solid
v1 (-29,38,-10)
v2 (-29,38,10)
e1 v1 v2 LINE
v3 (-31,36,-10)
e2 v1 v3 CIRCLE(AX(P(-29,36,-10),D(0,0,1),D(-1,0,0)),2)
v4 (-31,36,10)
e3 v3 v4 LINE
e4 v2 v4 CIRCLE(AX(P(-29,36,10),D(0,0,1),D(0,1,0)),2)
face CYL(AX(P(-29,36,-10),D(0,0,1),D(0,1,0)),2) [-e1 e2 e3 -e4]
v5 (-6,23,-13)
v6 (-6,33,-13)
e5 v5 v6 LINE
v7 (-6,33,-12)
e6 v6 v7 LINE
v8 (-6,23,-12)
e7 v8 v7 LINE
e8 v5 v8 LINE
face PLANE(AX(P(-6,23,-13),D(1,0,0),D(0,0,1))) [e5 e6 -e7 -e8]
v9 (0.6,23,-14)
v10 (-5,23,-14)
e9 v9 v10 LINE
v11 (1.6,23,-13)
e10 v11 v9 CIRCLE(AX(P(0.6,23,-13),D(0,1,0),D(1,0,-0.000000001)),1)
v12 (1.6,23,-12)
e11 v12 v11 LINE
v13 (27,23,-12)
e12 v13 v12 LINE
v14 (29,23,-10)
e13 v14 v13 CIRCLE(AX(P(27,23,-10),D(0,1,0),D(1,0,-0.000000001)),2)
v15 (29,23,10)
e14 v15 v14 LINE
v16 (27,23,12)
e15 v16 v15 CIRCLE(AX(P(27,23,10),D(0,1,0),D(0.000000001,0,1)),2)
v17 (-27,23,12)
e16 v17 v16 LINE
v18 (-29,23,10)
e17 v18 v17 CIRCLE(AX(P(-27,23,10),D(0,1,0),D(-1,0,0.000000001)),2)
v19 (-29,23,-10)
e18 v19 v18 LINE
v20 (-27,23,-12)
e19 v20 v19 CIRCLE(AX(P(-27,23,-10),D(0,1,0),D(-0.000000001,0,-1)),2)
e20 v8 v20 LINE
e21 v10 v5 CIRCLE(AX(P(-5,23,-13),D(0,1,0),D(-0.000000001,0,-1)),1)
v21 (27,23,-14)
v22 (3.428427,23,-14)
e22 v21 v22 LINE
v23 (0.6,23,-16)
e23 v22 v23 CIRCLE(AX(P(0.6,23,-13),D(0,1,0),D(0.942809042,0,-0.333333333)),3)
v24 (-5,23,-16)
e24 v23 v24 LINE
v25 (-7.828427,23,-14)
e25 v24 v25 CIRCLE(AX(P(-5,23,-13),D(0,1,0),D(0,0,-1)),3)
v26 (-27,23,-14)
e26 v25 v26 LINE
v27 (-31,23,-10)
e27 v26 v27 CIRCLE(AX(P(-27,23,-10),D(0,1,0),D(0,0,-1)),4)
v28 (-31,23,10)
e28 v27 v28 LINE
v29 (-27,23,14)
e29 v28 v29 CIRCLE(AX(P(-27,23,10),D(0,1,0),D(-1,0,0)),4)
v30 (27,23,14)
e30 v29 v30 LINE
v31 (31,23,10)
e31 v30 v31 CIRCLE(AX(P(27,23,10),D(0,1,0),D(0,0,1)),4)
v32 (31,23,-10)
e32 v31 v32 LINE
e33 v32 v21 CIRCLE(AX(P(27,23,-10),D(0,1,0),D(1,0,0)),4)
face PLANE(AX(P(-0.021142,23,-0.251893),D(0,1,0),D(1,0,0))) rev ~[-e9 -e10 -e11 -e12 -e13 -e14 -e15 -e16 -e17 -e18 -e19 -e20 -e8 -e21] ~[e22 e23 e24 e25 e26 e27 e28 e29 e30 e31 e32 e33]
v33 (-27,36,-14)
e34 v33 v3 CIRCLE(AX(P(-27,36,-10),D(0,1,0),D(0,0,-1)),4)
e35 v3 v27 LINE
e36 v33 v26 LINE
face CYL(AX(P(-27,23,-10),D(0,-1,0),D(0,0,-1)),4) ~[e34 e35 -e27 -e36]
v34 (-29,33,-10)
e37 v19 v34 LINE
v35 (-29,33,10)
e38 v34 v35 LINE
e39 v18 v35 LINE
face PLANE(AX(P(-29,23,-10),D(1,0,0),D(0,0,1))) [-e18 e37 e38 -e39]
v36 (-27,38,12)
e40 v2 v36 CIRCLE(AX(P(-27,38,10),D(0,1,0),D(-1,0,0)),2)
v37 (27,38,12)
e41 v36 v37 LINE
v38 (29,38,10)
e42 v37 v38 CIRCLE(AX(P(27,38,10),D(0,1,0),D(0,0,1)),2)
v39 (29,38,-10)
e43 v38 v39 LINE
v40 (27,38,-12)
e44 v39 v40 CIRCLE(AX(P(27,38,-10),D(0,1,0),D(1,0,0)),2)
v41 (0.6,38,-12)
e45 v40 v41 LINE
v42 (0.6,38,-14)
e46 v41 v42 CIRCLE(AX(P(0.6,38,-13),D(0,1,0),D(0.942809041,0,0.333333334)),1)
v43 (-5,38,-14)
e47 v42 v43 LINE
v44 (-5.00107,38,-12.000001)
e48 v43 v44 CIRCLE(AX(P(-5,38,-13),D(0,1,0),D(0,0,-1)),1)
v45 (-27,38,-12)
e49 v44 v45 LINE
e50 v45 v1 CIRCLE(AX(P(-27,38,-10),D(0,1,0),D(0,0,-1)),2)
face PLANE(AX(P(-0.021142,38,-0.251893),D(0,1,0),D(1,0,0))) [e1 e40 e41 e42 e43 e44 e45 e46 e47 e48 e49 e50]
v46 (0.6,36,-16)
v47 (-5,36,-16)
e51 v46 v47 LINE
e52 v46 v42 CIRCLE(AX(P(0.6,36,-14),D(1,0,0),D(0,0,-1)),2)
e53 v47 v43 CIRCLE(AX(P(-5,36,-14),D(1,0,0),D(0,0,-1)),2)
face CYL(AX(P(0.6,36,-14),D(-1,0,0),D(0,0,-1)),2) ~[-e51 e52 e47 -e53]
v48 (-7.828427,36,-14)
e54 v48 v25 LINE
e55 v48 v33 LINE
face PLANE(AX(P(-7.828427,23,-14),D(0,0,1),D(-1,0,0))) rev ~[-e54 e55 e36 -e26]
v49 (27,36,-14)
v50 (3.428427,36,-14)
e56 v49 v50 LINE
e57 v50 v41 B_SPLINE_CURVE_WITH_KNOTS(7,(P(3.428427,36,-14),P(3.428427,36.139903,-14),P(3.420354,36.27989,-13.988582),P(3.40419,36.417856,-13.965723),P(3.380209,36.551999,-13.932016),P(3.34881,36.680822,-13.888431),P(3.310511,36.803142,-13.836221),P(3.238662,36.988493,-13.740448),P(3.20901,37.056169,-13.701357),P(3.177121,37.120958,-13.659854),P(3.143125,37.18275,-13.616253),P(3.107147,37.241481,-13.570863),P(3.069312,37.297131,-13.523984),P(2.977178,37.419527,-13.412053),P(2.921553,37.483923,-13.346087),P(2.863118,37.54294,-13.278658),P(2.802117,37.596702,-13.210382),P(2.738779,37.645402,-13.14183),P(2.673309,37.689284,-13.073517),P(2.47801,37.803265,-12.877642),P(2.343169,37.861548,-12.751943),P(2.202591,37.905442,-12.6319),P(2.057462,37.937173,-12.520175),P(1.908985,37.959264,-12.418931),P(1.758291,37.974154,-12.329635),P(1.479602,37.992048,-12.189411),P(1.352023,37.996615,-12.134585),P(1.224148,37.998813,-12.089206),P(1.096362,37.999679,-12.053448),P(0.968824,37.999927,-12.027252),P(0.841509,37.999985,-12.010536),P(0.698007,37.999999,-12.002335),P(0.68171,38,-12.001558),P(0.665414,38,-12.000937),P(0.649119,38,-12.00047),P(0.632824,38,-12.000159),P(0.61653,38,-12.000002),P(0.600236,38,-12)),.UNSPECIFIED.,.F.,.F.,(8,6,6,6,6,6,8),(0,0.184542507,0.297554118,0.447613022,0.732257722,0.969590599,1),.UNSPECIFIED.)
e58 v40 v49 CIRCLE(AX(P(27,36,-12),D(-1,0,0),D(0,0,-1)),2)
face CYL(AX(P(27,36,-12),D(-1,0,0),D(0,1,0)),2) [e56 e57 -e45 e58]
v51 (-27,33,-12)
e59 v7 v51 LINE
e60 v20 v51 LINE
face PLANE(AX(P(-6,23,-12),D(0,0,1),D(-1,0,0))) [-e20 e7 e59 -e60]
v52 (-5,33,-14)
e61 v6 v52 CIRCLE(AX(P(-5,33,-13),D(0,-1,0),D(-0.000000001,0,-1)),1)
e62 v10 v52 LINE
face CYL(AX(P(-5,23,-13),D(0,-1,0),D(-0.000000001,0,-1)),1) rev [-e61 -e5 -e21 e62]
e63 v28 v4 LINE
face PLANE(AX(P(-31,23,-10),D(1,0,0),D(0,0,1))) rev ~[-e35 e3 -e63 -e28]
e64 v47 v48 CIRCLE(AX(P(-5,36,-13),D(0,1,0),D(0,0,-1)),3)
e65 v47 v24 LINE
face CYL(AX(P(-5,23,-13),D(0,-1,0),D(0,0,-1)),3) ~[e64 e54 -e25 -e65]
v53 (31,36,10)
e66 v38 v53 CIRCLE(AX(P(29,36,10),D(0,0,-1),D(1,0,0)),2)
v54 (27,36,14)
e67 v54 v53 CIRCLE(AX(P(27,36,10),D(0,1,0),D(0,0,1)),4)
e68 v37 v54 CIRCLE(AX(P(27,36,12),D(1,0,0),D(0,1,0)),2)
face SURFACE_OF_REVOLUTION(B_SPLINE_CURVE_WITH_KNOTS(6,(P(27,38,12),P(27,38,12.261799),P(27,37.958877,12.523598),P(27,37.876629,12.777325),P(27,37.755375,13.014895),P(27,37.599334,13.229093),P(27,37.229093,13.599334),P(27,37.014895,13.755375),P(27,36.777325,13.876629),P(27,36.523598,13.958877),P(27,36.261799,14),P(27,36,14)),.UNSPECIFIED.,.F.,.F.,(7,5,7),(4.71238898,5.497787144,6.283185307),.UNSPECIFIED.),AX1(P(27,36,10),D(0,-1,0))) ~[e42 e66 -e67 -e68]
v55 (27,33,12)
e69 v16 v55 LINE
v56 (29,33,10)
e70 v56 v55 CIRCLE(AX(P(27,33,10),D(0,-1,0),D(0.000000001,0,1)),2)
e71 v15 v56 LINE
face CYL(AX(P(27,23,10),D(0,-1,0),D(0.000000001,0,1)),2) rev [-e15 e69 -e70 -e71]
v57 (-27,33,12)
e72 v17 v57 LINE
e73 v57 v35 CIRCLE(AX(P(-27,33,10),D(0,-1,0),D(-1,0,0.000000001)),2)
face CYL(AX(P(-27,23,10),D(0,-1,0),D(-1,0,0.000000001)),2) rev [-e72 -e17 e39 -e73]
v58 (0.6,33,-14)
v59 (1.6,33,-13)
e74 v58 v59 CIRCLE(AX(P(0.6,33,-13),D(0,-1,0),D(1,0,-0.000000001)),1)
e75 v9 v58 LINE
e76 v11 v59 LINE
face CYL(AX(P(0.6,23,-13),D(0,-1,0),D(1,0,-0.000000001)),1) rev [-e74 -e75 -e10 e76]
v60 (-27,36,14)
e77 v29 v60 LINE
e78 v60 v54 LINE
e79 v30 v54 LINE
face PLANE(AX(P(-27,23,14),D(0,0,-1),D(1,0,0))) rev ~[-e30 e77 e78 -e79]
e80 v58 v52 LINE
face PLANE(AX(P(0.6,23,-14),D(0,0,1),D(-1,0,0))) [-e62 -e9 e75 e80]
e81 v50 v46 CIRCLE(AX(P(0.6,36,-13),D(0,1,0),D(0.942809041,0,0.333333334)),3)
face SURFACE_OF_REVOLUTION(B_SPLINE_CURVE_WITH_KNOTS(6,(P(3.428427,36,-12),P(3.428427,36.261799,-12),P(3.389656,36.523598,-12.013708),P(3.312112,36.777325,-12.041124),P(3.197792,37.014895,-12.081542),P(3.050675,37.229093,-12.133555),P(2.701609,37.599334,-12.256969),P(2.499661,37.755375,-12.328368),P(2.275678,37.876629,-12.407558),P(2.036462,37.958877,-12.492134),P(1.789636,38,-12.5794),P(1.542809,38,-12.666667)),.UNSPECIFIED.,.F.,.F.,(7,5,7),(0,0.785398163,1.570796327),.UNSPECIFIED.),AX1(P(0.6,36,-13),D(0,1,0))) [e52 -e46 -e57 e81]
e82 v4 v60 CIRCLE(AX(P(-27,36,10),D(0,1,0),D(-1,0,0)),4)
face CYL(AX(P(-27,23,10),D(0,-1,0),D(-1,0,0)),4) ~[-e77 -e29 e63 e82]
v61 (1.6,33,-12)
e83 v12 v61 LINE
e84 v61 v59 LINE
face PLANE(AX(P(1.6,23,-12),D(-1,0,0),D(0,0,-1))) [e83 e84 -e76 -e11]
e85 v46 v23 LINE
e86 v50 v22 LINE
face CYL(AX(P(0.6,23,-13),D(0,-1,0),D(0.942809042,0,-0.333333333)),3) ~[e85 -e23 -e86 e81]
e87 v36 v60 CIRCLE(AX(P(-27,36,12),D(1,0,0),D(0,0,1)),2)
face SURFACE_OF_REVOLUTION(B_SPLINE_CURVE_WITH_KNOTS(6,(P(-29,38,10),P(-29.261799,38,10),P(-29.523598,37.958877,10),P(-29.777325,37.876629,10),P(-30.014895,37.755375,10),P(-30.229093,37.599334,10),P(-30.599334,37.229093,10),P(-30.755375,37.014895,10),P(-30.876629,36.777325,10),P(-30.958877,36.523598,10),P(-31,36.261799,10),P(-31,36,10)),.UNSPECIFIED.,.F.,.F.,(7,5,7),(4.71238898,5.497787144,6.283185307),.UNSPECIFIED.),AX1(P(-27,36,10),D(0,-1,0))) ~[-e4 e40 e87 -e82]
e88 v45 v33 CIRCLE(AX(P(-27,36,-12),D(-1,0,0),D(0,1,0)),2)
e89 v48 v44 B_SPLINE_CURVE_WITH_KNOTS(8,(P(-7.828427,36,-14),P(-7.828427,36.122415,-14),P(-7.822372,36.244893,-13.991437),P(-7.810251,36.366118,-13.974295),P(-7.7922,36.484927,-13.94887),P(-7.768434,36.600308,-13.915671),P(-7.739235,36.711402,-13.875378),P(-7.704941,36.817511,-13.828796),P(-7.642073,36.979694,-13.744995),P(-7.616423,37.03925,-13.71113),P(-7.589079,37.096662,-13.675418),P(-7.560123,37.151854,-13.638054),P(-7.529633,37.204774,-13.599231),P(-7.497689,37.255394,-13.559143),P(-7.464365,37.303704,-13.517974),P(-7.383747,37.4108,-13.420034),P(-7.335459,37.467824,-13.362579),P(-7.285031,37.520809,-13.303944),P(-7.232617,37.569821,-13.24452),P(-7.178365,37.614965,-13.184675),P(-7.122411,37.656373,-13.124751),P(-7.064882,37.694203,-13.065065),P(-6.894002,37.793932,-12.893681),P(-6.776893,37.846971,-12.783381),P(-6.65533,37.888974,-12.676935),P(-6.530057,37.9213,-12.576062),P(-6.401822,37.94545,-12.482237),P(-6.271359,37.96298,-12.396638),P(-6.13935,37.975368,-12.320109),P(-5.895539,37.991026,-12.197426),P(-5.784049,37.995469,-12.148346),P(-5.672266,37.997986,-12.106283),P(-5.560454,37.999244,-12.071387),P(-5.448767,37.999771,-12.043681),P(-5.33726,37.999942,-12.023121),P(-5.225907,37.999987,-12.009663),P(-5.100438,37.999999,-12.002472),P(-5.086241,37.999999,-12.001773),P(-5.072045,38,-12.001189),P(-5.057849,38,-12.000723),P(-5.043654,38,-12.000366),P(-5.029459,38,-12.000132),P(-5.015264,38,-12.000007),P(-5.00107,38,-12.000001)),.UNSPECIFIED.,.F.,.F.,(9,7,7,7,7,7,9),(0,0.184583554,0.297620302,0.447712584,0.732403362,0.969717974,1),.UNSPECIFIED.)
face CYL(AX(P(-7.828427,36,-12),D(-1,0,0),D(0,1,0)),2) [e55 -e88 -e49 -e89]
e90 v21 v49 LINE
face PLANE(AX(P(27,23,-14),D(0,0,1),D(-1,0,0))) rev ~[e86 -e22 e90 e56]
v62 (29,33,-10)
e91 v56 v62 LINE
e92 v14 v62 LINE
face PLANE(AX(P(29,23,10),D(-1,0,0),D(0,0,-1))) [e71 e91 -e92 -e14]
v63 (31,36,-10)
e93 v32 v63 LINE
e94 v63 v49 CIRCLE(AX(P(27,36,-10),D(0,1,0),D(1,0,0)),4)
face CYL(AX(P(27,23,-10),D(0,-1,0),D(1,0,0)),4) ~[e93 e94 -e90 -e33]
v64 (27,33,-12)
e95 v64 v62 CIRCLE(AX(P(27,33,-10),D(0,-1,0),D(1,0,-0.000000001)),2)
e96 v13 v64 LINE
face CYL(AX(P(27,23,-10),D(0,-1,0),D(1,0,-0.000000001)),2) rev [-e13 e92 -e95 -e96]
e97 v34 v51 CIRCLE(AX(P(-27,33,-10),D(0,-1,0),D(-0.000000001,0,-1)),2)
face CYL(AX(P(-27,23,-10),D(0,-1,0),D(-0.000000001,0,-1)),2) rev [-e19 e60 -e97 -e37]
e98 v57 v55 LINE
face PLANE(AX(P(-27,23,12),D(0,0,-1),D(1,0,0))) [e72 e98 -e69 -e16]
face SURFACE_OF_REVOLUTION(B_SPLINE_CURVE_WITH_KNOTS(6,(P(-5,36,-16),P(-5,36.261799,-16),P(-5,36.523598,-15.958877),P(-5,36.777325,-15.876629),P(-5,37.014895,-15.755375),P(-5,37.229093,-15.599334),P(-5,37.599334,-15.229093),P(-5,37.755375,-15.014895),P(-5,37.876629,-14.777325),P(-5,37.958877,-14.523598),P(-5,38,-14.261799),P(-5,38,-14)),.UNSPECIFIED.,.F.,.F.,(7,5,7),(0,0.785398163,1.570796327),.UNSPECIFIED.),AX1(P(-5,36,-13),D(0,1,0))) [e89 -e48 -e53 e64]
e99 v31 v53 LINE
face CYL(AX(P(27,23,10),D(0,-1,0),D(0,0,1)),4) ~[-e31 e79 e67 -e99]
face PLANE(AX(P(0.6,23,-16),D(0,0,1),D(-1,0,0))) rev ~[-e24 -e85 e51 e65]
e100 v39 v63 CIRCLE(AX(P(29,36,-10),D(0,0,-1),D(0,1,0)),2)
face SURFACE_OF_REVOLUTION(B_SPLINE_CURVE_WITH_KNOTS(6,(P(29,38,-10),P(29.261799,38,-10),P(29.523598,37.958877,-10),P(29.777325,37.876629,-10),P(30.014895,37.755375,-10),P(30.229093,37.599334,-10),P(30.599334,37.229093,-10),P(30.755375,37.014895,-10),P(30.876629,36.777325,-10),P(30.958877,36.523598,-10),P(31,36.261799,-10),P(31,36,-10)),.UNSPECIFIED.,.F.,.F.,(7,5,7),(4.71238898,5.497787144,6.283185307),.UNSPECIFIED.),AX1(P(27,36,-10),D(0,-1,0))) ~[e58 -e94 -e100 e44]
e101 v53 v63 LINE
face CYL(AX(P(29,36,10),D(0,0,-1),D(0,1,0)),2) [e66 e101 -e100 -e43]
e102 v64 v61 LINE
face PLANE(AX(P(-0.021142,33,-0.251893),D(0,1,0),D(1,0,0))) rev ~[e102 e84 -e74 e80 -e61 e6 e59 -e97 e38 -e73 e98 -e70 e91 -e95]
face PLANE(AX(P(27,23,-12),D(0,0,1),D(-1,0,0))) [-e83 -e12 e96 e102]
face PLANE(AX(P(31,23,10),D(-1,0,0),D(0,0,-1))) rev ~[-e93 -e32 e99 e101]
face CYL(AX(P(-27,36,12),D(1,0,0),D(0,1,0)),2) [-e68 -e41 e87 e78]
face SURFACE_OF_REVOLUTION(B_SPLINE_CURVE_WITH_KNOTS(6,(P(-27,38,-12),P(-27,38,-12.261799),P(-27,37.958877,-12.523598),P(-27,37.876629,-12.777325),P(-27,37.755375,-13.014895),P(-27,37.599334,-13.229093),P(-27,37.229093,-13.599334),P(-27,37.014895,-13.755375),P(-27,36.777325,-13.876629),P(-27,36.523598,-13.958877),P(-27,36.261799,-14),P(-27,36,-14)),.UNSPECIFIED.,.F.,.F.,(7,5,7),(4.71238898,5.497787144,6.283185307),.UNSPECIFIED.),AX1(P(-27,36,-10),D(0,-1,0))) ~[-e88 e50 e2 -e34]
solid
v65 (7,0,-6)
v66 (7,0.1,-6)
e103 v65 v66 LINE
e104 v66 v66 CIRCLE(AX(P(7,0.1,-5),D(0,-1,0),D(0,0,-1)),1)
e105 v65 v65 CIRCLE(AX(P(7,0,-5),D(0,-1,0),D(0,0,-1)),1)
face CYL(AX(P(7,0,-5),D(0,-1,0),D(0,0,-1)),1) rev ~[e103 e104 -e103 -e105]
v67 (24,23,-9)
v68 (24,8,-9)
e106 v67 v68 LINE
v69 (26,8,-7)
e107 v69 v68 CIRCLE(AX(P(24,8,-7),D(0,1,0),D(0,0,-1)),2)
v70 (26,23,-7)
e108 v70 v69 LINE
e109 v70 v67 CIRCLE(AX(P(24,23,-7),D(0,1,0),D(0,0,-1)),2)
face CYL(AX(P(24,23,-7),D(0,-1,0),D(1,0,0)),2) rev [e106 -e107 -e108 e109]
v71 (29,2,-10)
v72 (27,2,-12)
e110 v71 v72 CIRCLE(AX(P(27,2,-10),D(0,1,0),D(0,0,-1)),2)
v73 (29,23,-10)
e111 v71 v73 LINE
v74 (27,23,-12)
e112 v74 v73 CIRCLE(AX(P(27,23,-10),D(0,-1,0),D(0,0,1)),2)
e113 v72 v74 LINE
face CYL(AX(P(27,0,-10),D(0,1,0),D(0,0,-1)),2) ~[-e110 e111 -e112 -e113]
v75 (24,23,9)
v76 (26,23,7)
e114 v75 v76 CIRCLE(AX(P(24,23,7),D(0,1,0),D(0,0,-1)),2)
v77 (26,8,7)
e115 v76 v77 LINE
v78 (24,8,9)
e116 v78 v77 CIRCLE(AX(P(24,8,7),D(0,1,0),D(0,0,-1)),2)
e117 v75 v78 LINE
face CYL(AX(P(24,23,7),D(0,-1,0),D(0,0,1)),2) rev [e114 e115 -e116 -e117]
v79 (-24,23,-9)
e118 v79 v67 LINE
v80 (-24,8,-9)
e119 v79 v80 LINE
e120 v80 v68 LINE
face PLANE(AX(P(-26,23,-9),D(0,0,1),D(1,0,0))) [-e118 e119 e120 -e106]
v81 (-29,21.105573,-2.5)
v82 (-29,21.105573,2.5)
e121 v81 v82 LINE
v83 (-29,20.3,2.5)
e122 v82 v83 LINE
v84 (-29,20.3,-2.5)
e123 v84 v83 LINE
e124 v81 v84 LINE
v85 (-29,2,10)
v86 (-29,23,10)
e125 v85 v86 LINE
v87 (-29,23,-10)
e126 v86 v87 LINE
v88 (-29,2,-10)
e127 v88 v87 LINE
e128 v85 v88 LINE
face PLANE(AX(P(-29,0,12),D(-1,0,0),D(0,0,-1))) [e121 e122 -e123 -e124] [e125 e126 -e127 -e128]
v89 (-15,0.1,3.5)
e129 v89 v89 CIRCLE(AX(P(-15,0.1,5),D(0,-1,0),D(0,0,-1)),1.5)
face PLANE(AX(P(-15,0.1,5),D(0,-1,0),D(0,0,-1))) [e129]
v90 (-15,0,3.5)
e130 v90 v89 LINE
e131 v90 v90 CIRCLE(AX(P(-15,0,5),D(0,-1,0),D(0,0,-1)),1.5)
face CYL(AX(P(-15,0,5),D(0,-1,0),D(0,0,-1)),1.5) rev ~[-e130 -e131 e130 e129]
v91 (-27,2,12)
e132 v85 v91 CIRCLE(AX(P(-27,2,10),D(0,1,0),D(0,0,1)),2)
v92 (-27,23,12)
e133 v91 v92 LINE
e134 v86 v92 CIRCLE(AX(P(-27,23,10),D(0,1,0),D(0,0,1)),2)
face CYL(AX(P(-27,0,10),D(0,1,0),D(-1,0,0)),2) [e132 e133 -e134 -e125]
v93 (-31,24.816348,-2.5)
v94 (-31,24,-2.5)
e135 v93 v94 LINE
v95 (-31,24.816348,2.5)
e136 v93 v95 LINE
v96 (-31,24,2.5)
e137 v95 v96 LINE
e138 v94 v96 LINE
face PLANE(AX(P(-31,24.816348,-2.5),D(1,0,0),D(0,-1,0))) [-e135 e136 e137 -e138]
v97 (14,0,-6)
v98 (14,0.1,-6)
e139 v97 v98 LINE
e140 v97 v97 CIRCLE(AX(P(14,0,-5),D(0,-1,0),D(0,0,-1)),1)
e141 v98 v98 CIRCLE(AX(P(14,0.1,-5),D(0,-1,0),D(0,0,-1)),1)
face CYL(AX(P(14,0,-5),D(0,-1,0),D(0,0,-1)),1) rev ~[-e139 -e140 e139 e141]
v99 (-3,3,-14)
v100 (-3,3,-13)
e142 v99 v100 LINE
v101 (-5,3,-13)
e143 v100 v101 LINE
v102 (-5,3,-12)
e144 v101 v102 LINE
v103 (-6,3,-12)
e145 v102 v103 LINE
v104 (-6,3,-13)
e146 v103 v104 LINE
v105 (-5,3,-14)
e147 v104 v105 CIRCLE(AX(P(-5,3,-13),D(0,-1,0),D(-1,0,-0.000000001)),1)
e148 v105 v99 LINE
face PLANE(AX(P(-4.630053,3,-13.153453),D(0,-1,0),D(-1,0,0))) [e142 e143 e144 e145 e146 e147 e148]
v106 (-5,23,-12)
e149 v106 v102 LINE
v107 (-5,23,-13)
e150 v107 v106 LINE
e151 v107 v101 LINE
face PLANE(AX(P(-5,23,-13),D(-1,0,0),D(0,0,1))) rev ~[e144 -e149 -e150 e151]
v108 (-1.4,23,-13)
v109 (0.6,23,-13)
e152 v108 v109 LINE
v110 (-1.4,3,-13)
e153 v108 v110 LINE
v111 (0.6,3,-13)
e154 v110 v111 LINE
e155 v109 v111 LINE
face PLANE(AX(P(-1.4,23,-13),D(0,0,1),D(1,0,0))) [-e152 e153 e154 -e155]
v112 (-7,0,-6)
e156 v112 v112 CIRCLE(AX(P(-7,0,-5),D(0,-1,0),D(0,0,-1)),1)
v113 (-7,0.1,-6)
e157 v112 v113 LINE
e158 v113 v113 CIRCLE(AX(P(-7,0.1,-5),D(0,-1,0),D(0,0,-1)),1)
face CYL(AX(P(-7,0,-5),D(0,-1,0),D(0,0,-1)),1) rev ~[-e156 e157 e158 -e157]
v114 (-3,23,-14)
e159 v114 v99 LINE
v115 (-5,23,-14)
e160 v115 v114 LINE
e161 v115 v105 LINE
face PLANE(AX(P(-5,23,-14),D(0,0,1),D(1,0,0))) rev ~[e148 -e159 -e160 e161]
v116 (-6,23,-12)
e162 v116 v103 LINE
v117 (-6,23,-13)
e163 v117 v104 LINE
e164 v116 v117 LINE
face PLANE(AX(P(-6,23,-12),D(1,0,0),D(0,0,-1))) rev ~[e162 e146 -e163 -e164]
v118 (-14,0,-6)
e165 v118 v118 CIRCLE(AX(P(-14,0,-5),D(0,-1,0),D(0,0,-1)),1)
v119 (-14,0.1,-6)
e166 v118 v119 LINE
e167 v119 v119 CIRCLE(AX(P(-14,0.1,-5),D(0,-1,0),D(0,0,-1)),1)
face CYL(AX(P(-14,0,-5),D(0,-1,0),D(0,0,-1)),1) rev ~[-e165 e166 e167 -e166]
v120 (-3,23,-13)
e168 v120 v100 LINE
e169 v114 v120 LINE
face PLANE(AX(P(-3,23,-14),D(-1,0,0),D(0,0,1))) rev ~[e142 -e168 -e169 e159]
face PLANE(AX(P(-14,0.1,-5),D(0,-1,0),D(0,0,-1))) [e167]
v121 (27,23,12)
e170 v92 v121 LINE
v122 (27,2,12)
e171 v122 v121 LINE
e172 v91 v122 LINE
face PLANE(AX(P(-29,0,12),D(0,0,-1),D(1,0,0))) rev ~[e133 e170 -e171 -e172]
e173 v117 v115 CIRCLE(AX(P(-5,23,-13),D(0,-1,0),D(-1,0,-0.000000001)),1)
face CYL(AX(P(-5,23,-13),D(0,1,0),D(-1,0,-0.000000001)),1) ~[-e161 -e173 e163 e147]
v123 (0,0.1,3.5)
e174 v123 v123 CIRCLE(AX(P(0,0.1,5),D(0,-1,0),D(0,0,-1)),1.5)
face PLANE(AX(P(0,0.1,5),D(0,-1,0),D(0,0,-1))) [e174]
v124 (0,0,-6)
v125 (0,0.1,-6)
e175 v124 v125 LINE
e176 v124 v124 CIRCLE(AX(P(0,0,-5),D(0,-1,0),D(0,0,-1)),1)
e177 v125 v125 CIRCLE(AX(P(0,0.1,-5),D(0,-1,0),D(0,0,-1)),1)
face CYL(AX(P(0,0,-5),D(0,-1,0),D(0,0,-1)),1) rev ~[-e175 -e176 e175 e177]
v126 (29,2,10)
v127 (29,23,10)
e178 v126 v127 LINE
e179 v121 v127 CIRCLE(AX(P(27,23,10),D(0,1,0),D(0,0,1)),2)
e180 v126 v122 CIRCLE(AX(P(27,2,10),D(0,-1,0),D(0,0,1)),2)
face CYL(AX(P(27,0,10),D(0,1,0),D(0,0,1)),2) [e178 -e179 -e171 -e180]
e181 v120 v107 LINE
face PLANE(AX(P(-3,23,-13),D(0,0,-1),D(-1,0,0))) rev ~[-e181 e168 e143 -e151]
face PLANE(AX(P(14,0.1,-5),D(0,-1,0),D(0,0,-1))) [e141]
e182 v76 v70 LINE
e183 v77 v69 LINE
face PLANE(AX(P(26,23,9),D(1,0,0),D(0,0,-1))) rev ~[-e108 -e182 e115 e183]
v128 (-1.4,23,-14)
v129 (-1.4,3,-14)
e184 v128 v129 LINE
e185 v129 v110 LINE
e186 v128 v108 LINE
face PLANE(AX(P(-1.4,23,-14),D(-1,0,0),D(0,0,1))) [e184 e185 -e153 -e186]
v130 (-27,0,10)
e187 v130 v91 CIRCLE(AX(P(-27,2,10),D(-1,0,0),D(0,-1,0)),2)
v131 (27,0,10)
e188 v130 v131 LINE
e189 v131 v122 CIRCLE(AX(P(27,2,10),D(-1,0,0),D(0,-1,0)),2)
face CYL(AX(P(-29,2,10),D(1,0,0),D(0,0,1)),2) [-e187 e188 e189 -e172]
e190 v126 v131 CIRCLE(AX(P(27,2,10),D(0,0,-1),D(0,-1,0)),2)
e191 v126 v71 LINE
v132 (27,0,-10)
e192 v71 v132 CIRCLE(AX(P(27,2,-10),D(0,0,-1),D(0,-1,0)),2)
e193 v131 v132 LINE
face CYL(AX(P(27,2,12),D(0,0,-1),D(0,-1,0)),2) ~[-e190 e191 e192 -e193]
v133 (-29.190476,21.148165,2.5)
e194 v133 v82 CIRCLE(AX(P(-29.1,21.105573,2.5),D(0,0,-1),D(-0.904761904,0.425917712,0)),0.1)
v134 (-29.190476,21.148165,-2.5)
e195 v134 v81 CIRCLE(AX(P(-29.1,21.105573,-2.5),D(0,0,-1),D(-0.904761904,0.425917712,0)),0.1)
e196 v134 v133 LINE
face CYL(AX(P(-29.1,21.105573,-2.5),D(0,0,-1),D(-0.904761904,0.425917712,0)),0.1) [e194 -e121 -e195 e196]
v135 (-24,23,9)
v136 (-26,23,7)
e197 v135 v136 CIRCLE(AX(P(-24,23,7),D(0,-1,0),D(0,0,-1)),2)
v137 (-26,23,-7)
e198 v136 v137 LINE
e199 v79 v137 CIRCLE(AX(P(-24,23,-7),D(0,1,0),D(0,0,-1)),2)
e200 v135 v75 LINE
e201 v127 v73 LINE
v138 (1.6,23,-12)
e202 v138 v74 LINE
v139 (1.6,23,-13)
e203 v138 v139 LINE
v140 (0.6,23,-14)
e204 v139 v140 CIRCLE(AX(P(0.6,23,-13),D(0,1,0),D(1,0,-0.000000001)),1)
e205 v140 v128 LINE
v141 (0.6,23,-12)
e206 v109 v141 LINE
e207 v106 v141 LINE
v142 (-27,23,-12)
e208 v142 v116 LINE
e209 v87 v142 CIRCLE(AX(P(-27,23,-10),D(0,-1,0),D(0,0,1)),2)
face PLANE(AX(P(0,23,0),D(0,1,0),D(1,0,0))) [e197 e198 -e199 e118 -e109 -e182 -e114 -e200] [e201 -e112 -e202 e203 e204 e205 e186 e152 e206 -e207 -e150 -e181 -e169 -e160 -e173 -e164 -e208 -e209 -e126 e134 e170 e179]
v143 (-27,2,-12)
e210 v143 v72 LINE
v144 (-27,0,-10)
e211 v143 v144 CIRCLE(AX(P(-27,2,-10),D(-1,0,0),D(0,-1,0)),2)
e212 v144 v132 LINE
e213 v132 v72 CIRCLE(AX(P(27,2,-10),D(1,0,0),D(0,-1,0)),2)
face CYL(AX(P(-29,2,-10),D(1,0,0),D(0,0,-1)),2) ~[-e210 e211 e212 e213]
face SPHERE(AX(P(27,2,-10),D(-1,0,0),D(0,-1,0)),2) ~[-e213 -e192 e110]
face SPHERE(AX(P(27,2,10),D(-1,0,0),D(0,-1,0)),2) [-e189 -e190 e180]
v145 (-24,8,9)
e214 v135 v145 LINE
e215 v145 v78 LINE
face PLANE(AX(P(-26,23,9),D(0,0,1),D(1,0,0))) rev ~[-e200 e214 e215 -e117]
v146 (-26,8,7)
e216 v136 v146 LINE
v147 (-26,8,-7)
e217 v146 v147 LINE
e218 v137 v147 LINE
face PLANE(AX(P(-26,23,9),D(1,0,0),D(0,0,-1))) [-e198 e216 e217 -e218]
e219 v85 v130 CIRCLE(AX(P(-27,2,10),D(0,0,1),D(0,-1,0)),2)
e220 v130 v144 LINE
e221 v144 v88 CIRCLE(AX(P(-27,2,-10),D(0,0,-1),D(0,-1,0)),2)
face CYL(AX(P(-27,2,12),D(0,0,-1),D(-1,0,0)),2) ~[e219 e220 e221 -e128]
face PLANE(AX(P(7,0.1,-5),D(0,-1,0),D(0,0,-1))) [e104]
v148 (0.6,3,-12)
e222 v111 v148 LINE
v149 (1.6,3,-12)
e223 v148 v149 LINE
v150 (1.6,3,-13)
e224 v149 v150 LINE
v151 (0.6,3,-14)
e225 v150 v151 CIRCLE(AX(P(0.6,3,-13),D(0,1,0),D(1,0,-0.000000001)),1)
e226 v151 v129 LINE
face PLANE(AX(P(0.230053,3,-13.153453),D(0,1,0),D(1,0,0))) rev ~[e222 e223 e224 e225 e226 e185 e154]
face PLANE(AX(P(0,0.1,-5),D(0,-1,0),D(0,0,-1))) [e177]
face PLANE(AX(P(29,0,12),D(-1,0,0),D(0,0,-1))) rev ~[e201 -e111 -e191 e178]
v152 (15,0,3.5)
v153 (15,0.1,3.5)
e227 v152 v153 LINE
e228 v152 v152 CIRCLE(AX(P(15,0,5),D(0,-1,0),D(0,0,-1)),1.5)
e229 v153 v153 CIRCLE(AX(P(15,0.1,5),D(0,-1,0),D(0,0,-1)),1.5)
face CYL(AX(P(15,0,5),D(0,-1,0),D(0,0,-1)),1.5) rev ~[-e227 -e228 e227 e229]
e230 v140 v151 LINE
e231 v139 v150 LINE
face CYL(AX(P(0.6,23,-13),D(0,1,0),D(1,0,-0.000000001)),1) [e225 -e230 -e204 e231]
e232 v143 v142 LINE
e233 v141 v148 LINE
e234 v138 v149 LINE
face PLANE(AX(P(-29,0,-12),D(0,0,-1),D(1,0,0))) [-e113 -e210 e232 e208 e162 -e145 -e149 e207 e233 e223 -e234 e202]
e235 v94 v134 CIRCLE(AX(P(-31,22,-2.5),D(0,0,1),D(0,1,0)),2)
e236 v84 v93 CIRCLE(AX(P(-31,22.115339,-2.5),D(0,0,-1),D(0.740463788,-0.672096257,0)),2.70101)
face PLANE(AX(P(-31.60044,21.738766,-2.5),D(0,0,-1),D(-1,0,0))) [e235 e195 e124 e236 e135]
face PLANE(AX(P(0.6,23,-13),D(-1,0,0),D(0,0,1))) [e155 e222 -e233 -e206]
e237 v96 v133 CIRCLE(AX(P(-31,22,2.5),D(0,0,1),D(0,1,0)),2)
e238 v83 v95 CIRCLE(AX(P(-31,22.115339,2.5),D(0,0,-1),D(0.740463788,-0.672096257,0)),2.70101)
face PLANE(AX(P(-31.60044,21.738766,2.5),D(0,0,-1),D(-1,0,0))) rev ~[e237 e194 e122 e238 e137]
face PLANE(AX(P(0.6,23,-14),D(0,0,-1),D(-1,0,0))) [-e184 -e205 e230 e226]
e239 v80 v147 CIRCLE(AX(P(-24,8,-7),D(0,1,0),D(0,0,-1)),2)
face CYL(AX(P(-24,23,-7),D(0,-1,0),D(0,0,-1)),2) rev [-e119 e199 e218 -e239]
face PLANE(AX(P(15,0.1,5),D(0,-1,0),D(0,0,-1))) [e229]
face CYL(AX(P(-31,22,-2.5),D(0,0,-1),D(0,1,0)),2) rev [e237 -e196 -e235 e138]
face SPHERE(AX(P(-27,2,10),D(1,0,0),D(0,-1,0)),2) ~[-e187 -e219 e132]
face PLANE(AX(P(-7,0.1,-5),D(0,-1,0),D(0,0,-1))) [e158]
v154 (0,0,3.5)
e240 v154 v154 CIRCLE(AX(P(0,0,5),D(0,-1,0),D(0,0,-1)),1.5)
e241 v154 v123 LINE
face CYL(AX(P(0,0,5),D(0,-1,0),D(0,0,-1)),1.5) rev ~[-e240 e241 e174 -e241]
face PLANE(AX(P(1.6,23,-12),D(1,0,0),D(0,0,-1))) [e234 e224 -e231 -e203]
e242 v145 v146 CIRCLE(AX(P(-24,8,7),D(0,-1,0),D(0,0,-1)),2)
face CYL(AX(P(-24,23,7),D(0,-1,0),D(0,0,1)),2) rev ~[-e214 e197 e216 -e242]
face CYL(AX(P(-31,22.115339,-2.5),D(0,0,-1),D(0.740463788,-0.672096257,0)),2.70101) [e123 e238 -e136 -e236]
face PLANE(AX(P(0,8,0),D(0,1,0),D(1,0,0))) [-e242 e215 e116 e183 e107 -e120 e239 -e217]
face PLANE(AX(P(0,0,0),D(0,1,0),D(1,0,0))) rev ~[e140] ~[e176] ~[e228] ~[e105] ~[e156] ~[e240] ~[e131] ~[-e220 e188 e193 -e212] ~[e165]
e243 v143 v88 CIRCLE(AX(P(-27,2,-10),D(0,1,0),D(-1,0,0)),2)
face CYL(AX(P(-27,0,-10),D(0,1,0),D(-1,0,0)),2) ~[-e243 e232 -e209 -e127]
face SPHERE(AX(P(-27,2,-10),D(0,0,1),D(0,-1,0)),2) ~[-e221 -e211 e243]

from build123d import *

# Parameters (mm, degrees)
SKETCH_1_W           = 58
SKETCH_1_H           = 24
EXTRUDE_1_DEPTH      = 23
EXTRUDE_2_DEPTH      = 20
SKETCH_3_W           = 52
SKETCH_3_H           = 18
CUT_EXTRUDE_1_DEPTH  = 15
FILLET_1_R           = 2
EXTRUDE_3_DEPTH      = 15
EXTRUDE_9_DEPTH      = 2.5
EXTRUDE_9_DEPTH_BACK = 2.5
EXTRUDE_10_DEPTH     = 5
FILLET_3_R           = 2
FILLET_4_R           = 2
SKETCH_7_R           = 1.5
SKETCH_7_R_2         = 1
CUT_EXTRUDE_2_DEPTH  = 0.1


with BuildPart() as part:
    # ｽｹｯﾁ1 → ﾎﾞｽ - 押し出し1 (new body)
    with BuildSketch(Plane(origin=(0, 0, 0), x_dir=(1, 0, 0), z_dir=(0, 1, 0))):
        Rectangle(SKETCH_1_W, SKETCH_1_H)
    extrude(amount=EXTRUDE_1_DEPTH)

    # ｽｹｯﾁ2 → ﾎﾞｽ - 押し出し2 (add)
    with BuildSketch(Plane(origin=(0, 23, 0), x_dir=(1, 0, 0), z_dir=(0, 1, 0))):
        with BuildLine():
            Line((0.6, 13), (0.6, 12))
            Line((0.6, 12), (1.6, 12))
            Line((1.6, 12), (1.6, 13))
            ThreePointArc((1.6, 13), (1.307106781, 13.707106781), (0.6, 14))
            Line((0.6, 14), (-1.4, 14))
            Line((-1.4, 14), (-1.4, 13))
            Line((-1.4, 13), (0.6, 13))
        make_face()
        with BuildLine():
            Line((-5, 14), (-3, 14))
            Line((-3, 14), (-3, 13))
            Line((-3, 13), (-5, 13))
            Line((-5, 13), (-5, 12))
            Line((-5, 12), (-6, 12))
            Line((-6, 12), (-6, 13))
            ThreePointArc((-6, 13), (-5.707106781, 13.707106781), (-5, 14))
        make_face()
    extrude(amount=-EXTRUDE_2_DEPTH)

    # ｽｹｯﾁ3 → ｶｯﾄ - 押し出し1 (cut)
    with BuildSketch(Plane(origin=(0, 23, 0), x_dir=(1, 0, 0), z_dir=(0, 1, 0))):
        Rectangle(SKETCH_3_W, SKETCH_3_H)
    extrude(amount=-CUT_EXTRUDE_1_DEPTH, mode=Mode.SUBTRACT)

    # ﾌｨﾚｯﾄ1
    fillet_1_edges = [part.edges().sort_by_distance(p)[0] for p in [
        (0, 0, 12),
        (-29, 0, 0),
        (0, 0, -12),
        (26, 15.5, -9),
        (26, 15.5, 9),
        (-26, 15.5, 9),
        (-26, 15.5, -9),
        (29, 0, 0),
        (29, 11.5, 12),
        (-29, 11.5, 12),
        (-29, 11.5, -12),
        (29, 11.5, -12),
    ]]
    fillet(fillet_1_edges, radius=FILLET_1_R)

    # ｽｹｯﾁ5 → ﾎﾞｽ - 押し出し9 (add, two sides: drawn at the far end of the back side and taken through both)
    with BuildSketch(Plane.XY.offset(-EXTRUDE_9_DEPTH_BACK)):
        with BuildLine():
            Line((-31, 24.816348491), (-31, 24))
            ThreePointArc((-31, 24), (-32.688737819, 20.928475581), (-29.19047619, 21.14816458))
            ThreePointArc((-29.19047619, 21.14816458), (-29.078178211, 21.203162816), (-29, 21.105572809))
            Line((-29, 21.105572809), (-29, 20.3))
            ThreePointArc((-29, 20.3), (-33.469686402, 21.021673504), (-31, 24.816348491))
        make_face()
    extrude(amount=EXTRUDE_9_DEPTH + EXTRUDE_9_DEPTH_BACK)

    # ｽｹｯﾁ7 → ｶｯﾄ - 押し出し2 (cut)
    with BuildSketch(Plane.XZ):
        with Locations(Location((-15, 5, 0), (0, 0, 270))):
            Circle(SKETCH_7_R)
        with Locations(Location((0, 5, 0), (0, 0, 270))):
            Circle(SKETCH_7_R)
        with Locations(Location((15, 5, 0), (0, 0, 270))):
            Circle(SKETCH_7_R)
        with Locations(Location((0, -5, 0), (0, 0, 270))):
            Circle(SKETCH_7_R_2)
        with Locations(Location((7, -5, 0), (0, 0, 270))):
            Circle(SKETCH_7_R_2)
        with Locations(Location((14, -5, 0), (0, 0, 270))):
            Circle(SKETCH_7_R_2)
        with Locations(Location((-7, -5, 0), (0, 0, 270))):
            Circle(SKETCH_7_R_2)
        with Locations(Location((-14, -5, 0), (0, 0, 270))):
            Circle(SKETCH_7_R_2)
    extrude(amount=-CUT_EXTRUDE_2_DEPTH, mode=Mode.SUBTRACT)


with BuildPart() as body_2:
    # ｽｹｯﾁ4 → ﾎﾞｽ - 押し出し3 (new body)
    with BuildSketch(Plane(origin=(0, 23, 0), x_dir=(1, 0, 0), z_dir=(0, 1, 0))):
        with BuildLine():
            Line((-31, 10), (-31, -10))
            ThreePointArc((-31, -10), (-29.828427125, -12.828427125), (-27, -14))
            Line((-27, -14), (27, -14))
            ThreePointArc((27, -14), (29.828427125, -12.828427125), (31, -10))
            Line((31, -10), (31, 10))
            ThreePointArc((31, 10), (29.828427125, 12.828427125), (27, 14))
            Line((27, 14), (3.428427125, 14))
            ThreePointArc((3.428427125, 14), (2.332050808, 15.449489743), (0.6, 16))
            Line((0.6, 16), (-2.2, 16))
            Line((-2.2, 16), (-5, 16))
            ThreePointArc((-5, 16), (-6.732050808, 15.449489743), (-7.828427125, 14))
            Line((-7.828427125, 14), (-27, 14))
            ThreePointArc((-27, 14), (-29.828427125, 12.828427125), (-31, 10))
        make_face()
        with BuildLine():
            Line((-1.4, 14), (-3, 14))
            Line((-3, 14), (-5, 14))
            ThreePointArc((-5, 14), (-5.707106781, 13.707106781), (-6, 13))
            Line((-6, 13), (-6, 12))
            Line((-6, 12), (-27, 12))
            ThreePointArc((-27, 12), (-28.414213562, 11.414213562), (-29, 10))
            Line((-29, 10), (-29, -10))
            ThreePointArc((-29, -10), (-28.414213562, -11.414213562), (-27, -12))
            Line((-27, -12), (27, -12))
            ThreePointArc((27, -12), (28.414213562, -11.414213562), (29, -10))
            Line((29, -10), (29, 10))
            ThreePointArc((29, 10), (28.414213562, 11.414213562), (27, 12))
            Line((27, 12), (1.6, 12))
            Line((1.6, 12), (1.6, 13))
            ThreePointArc((1.6, 13), (1.307106781, 13.707106781), (0.6, 14))
            Line((0.6, 14), (-1.4, 14))
        make_face(mode=Mode.SUBTRACT)
    extrude(amount=EXTRUDE_3_DEPTH)

    # ｽｹｯﾁ6 → ﾎﾞｽ - 押し出し10 (add)
    with BuildSketch(Plane(origin=(0, 38, 0), x_dir=(1, 0, 0), z_dir=(0, 1, 0))):
        with BuildLine():
            Line((0.6, 16), (-5, 16))
            ThreePointArc((-5, 16), (-6.732050808, 15.449489743), (-7.828427125, 14))
            Line((-7.828427125, 14), (-27, 14))
            ThreePointArc((-27, 14), (-29.828427125, 12.828427125), (-31, 10))
            Line((-31, 10), (-31, -10))
            ThreePointArc((-31, -10), (-29.828427125, -12.828427125), (-27, -14))
            Line((-27, -14), (27, -14))
            ThreePointArc((27, -14), (29.828427125, -12.828427125), (31, -10))
            Line((31, -10), (31, 10))
            ThreePointArc((31, 10), (29.828427125, 12.828427125), (27, 14))
            Line((27, 14), (3.428427125, 14))
            ThreePointArc((3.428427125, 14), (2.332050808, 15.449489743), (0.6, 16))
        make_face()
    extrude(amount=-EXTRUDE_10_DEPTH)

    # ﾌｨﾚｯﾄ3
    fillet_3_edges = [body_2.edges().sort_by_distance(p)[0] for p in [
        (29.828427125, 38, -12.828427125),
        (15.214213562, 38, -14),
        (-17.414213562, 38, -14),
        (-29.828427125, 38, -12.828427125),
        (-31, 38, 0),
        (-29.828427125, 38, 12.828427125),
        (0, 38, 14),
        (29.828427125, 38, 12.828427125),
        (31, 38, 0),
    ]]
    fillet(fillet_3_edges, radius=FILLET_3_R)

    # ﾌｨﾚｯﾄ4
    fillet_4_edges = [body_2.edges().sort_by_distance(p)[0] for p in [
        (-7.449489743, 38, -14.732050808),
        (-2.2, 38, -16),
        (3.049489743, 38, -14.732050808),
    ]]
    fillet(fillet_4_edges, radius=FILLET_4_R)


solid = Compound([part.part, body_2.part])
